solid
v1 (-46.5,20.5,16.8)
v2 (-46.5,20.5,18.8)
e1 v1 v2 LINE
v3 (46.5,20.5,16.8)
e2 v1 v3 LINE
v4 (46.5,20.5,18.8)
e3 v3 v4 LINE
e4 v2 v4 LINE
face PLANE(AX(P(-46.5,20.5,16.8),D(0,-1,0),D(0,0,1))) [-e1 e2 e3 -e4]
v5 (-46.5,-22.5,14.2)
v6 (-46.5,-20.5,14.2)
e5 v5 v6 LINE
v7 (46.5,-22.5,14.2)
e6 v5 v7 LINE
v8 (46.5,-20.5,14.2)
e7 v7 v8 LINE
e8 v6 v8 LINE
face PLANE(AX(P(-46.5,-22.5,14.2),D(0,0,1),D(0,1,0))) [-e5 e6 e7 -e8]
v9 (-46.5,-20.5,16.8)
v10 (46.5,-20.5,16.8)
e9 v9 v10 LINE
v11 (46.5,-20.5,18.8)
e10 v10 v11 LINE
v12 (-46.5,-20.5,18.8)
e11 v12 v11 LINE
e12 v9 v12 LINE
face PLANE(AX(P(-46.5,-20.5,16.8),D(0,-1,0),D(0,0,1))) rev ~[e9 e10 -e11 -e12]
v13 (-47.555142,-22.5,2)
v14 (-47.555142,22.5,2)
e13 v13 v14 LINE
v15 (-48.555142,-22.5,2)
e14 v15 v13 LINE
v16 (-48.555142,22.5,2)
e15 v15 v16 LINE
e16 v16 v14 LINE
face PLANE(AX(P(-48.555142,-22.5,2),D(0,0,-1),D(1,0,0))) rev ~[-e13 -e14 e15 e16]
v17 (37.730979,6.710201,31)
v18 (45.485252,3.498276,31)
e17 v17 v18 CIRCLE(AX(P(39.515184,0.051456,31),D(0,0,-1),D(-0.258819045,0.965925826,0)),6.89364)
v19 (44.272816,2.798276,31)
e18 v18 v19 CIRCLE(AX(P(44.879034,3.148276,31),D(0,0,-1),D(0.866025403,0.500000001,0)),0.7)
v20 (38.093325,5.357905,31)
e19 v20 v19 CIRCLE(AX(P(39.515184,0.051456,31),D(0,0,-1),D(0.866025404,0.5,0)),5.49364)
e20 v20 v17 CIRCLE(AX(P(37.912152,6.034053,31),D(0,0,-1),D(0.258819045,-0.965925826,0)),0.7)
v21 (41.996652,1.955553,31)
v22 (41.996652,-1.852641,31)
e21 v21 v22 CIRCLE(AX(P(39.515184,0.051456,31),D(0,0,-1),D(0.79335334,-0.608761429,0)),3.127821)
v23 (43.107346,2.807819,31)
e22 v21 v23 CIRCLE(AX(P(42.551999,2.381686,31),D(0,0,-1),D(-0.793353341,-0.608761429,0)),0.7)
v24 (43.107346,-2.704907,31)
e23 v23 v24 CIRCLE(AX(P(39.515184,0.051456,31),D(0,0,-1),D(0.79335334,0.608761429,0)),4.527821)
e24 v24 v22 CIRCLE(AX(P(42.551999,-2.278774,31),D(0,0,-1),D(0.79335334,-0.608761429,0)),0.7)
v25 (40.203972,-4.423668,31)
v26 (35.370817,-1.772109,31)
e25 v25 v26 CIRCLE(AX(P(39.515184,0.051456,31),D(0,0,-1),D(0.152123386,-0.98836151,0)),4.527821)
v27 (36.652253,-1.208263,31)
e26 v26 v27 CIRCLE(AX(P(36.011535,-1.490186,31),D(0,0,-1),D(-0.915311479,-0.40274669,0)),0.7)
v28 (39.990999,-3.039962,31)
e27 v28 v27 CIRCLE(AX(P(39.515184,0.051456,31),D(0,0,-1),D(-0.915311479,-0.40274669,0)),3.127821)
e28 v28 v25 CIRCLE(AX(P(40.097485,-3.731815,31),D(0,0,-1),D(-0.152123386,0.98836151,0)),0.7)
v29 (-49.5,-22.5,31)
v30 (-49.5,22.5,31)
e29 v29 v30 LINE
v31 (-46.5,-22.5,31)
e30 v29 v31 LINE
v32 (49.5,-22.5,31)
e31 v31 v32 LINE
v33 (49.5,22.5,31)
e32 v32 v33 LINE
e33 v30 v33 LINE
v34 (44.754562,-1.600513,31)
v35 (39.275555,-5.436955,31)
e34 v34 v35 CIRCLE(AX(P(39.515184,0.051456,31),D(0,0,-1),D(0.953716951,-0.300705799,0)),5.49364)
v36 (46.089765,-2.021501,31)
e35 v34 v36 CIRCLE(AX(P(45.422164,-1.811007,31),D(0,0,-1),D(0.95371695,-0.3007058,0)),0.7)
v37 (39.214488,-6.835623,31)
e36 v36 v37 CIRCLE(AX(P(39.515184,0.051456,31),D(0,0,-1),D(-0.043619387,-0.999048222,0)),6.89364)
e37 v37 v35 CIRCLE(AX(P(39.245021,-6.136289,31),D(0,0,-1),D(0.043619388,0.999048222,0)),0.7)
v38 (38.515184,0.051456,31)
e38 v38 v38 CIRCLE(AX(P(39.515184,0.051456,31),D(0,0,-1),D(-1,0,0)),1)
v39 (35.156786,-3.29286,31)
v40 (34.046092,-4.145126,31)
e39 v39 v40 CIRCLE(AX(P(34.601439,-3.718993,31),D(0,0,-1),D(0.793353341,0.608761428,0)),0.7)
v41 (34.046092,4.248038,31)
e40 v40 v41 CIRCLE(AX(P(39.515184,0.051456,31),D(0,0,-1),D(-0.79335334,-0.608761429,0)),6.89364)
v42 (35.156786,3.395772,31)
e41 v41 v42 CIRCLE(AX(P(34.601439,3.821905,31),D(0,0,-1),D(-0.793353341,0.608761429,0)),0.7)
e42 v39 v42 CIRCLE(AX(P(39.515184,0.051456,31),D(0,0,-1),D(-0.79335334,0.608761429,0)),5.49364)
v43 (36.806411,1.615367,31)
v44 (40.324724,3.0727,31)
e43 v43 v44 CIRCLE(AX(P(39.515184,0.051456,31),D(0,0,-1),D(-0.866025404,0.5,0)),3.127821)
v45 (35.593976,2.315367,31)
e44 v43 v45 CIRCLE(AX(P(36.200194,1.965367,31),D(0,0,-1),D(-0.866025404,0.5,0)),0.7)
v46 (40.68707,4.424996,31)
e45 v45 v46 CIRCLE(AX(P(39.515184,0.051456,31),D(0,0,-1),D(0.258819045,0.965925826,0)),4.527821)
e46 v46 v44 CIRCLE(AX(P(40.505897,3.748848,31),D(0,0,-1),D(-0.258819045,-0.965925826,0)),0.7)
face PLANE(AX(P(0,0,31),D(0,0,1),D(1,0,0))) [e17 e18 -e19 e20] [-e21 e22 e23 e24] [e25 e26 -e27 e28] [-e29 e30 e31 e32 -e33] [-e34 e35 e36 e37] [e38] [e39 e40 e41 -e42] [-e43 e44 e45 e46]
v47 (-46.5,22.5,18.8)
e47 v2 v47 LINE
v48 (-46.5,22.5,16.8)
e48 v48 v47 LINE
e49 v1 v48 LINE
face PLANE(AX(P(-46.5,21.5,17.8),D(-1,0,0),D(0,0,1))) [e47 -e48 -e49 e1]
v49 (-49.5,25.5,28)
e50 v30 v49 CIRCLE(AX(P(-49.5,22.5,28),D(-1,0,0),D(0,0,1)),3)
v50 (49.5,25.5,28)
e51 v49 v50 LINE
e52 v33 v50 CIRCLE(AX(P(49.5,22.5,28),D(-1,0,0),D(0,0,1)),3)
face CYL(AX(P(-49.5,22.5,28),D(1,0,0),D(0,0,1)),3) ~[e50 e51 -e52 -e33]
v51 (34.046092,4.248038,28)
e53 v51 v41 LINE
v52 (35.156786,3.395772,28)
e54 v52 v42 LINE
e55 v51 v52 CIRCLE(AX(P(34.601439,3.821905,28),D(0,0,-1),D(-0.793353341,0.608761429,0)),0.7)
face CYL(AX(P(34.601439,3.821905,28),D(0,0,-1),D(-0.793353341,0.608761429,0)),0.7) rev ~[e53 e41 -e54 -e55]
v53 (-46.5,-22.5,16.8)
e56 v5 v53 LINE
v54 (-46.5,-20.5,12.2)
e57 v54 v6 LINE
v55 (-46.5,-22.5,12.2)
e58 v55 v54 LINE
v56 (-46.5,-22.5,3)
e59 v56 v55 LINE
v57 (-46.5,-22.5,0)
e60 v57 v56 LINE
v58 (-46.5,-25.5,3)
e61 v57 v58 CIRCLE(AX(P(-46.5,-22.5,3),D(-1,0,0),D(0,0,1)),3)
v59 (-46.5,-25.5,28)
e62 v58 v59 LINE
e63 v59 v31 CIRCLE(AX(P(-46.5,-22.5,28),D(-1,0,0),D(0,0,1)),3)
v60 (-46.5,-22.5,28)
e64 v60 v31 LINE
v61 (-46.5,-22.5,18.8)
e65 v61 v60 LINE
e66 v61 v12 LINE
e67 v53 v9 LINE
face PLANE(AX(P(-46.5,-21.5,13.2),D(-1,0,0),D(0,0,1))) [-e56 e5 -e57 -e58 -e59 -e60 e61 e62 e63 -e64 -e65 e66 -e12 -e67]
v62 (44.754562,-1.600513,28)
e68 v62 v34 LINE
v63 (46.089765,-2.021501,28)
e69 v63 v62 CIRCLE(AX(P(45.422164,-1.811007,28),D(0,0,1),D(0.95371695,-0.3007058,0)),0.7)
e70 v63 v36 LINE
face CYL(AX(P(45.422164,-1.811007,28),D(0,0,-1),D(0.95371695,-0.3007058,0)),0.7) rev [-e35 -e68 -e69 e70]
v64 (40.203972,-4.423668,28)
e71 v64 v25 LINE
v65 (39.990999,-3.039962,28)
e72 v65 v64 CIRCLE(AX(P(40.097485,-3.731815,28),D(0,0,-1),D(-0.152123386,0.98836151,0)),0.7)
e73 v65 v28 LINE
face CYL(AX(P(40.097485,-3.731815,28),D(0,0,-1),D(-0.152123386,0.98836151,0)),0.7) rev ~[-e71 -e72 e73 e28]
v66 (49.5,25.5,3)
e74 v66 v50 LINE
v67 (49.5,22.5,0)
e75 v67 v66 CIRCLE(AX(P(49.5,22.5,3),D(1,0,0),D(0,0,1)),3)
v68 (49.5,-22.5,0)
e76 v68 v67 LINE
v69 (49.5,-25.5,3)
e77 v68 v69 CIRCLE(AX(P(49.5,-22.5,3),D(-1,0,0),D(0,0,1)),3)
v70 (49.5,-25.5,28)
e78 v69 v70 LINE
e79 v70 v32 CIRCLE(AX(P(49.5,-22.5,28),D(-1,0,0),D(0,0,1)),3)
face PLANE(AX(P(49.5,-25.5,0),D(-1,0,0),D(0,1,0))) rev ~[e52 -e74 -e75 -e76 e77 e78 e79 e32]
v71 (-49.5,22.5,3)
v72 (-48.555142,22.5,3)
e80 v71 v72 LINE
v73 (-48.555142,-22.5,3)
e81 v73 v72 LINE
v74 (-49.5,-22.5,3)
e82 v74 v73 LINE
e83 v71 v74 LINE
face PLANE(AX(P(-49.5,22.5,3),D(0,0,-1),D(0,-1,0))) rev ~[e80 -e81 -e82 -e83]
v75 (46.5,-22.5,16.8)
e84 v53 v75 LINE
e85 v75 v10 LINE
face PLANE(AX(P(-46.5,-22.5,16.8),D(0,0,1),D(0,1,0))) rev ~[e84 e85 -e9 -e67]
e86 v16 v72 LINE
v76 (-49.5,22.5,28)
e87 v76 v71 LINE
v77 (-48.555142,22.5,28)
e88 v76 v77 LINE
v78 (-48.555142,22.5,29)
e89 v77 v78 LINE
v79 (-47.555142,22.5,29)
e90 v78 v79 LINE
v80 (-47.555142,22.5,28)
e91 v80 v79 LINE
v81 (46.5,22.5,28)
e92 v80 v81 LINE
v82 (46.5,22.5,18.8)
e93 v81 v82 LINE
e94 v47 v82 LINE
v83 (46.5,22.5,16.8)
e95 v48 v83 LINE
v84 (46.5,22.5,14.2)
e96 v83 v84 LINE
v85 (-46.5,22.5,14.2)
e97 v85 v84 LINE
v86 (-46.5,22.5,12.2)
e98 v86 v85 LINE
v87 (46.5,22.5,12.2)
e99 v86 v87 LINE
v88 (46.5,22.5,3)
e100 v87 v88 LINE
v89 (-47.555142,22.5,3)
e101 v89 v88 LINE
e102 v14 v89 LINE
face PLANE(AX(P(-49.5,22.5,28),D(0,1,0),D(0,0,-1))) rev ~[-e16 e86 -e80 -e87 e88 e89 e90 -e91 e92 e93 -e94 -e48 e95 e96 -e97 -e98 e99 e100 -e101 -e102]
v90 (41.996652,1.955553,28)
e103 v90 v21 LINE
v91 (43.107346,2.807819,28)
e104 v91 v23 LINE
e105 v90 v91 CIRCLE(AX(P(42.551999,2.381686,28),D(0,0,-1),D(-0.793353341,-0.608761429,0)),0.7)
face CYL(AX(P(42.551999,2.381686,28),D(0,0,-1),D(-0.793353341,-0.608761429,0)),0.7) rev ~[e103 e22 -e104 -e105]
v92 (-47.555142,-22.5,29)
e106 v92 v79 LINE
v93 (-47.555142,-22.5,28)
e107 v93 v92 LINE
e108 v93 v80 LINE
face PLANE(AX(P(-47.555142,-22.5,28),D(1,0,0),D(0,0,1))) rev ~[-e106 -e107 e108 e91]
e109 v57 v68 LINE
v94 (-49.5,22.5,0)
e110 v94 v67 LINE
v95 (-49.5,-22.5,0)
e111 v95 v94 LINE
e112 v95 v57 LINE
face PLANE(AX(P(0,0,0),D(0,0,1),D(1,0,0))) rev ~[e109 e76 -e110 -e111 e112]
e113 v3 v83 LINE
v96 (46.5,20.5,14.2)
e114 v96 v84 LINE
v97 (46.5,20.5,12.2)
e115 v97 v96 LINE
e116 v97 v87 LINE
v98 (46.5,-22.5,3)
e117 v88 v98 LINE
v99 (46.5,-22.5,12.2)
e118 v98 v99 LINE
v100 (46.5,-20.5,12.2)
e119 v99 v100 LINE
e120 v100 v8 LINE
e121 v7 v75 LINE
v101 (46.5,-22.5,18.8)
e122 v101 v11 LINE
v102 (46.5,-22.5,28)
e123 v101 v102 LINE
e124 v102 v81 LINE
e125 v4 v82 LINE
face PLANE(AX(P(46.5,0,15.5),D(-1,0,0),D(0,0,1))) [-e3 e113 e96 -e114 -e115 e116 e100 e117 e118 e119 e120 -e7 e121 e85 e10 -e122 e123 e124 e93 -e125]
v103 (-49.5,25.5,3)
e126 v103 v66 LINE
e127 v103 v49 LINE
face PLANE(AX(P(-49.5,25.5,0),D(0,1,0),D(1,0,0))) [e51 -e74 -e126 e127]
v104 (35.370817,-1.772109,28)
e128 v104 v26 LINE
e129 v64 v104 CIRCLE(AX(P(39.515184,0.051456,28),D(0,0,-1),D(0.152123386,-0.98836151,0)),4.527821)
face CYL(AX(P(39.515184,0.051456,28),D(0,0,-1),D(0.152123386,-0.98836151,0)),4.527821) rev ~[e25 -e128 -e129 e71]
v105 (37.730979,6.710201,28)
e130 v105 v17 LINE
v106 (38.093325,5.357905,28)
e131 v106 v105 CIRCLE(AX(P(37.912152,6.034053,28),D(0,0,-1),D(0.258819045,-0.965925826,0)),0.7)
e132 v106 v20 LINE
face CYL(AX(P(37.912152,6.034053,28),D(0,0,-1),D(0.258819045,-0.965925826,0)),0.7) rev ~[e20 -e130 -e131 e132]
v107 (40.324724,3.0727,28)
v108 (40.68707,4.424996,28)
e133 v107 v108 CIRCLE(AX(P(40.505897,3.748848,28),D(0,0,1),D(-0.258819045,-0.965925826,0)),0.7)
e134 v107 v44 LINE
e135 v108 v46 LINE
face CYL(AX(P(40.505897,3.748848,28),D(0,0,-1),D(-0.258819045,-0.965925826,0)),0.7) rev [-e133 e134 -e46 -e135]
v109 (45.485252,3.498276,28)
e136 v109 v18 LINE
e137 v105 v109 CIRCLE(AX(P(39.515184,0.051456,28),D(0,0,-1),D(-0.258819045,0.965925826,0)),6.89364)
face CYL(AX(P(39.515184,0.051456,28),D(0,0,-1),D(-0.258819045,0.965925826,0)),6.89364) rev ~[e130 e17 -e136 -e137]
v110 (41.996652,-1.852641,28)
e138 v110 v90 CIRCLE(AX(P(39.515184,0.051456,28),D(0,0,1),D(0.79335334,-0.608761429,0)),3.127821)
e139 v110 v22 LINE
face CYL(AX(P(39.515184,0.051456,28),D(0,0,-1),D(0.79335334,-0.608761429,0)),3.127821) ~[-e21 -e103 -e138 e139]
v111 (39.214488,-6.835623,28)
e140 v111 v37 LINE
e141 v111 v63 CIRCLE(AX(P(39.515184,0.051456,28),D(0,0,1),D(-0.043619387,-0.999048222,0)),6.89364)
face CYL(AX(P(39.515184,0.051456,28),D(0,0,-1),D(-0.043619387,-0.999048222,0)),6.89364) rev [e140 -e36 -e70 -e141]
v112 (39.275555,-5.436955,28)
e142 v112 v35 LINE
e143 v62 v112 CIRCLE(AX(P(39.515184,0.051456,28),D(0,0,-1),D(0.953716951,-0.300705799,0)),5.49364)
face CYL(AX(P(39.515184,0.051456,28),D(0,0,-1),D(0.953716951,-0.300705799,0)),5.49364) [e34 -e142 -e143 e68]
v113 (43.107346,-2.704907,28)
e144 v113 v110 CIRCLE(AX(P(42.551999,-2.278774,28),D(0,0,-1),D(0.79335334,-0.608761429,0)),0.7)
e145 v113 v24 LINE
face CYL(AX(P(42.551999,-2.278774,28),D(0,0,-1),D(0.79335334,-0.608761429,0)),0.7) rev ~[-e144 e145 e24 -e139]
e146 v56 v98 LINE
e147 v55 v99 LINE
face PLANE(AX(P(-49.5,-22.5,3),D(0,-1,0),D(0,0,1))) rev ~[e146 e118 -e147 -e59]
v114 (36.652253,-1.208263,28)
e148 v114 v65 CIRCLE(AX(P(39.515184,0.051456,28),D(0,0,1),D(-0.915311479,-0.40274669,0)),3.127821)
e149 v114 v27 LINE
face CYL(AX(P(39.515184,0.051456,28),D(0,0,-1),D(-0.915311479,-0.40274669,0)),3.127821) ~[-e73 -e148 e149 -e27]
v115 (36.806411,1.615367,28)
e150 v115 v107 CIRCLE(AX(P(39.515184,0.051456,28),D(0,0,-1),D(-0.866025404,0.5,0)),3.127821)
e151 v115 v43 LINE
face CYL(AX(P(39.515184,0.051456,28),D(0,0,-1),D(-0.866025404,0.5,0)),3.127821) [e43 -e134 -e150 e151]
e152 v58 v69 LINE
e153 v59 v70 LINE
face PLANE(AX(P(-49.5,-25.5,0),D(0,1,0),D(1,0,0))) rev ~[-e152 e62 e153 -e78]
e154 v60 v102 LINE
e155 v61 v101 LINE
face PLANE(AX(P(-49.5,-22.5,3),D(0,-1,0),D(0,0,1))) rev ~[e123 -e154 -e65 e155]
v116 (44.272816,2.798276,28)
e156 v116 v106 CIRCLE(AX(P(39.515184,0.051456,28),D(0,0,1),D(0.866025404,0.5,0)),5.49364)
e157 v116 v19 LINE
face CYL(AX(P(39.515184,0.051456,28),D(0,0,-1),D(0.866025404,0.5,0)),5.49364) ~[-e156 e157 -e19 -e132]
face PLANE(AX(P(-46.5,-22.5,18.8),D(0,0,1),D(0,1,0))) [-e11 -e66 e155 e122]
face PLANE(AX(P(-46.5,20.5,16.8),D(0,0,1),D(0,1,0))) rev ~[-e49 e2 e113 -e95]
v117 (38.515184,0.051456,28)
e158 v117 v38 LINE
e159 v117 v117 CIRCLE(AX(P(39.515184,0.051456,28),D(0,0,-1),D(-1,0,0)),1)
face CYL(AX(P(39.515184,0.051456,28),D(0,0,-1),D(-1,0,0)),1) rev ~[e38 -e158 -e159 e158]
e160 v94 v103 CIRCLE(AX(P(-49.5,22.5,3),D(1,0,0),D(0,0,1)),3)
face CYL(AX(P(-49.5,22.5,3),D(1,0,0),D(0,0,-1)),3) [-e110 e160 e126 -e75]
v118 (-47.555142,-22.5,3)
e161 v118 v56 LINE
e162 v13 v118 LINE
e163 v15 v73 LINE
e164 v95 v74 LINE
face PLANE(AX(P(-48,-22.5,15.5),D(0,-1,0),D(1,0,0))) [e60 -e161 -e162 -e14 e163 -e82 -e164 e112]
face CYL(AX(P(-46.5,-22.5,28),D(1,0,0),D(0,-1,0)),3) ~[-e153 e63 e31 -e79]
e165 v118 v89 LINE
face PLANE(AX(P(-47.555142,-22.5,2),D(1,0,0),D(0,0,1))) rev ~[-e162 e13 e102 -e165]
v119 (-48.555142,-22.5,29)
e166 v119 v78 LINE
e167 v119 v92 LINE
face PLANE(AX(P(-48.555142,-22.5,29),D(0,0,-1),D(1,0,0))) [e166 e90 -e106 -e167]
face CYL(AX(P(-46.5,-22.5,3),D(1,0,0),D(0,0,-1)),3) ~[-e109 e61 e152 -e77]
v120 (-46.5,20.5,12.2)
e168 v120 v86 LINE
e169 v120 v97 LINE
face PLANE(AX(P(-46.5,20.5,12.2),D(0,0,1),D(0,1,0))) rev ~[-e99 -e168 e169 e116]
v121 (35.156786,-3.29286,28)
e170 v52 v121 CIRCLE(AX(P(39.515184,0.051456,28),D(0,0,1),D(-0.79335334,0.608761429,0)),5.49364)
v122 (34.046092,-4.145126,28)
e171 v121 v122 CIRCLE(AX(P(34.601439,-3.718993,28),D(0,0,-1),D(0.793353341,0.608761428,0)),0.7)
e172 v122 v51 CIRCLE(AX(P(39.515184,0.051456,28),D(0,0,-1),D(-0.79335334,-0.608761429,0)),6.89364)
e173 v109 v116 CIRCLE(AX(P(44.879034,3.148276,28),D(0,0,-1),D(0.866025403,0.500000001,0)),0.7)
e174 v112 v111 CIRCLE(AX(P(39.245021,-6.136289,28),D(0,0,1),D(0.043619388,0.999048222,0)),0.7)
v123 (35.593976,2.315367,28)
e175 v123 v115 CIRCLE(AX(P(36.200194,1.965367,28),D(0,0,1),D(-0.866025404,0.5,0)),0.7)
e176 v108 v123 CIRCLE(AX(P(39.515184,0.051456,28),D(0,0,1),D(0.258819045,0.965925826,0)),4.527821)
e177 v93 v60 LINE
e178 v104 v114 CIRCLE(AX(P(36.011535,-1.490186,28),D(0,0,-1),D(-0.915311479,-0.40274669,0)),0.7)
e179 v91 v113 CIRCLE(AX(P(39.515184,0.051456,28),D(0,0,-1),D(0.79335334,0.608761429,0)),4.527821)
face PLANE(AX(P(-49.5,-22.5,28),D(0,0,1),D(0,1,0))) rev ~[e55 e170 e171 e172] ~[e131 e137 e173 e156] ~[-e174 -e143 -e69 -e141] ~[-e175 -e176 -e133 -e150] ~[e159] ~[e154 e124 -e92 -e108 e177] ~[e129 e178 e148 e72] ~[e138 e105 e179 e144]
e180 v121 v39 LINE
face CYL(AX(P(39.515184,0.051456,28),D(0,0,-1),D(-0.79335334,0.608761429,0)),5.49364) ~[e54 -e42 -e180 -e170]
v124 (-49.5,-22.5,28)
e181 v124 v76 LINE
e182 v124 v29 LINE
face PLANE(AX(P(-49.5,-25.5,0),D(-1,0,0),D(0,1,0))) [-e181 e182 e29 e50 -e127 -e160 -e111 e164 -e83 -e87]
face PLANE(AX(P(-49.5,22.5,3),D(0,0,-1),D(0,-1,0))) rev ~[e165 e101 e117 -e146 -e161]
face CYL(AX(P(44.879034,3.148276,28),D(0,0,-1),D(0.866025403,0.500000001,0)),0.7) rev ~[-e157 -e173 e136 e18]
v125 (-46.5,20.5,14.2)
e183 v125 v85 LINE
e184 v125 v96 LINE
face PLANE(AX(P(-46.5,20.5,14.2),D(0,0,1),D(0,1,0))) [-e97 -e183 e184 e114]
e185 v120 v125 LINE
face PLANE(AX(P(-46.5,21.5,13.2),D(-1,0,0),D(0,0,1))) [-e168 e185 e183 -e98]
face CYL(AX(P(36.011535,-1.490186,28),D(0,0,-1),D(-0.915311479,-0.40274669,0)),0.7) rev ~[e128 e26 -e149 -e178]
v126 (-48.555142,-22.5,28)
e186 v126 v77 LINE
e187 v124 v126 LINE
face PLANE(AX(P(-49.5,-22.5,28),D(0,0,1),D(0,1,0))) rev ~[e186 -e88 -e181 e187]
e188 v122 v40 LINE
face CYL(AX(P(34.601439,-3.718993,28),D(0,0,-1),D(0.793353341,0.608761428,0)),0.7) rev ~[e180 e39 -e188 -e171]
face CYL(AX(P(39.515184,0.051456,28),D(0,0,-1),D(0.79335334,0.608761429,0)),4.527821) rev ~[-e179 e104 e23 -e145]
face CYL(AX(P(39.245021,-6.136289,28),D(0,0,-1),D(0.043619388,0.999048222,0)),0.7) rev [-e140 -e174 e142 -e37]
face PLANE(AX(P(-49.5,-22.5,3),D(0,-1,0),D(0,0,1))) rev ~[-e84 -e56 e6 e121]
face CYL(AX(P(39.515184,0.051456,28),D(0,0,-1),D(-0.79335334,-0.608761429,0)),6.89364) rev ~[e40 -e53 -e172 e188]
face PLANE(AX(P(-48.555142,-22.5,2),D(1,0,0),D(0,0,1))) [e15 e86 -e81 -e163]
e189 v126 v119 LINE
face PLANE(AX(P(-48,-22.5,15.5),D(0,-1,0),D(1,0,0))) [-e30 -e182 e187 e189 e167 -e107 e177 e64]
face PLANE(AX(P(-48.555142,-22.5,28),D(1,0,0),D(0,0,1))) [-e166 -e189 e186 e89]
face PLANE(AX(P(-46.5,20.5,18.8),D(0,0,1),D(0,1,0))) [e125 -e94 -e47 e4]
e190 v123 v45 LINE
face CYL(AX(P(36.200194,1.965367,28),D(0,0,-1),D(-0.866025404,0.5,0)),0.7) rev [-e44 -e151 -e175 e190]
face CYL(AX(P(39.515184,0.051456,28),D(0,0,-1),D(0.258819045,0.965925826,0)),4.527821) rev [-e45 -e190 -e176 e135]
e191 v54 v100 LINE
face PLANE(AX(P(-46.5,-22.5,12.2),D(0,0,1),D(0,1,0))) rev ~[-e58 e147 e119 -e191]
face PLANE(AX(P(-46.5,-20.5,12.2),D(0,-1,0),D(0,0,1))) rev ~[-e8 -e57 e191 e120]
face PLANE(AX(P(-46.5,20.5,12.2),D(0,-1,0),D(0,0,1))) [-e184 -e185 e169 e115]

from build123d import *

# Parameters (mm, degrees)
SKETCH1_W           = 99
SKETCH1_H           = 51
BOSS_EXTRUDE2_DEPTH = 31
CUT_EXTRUDE1_DEPTH  = 96
SKETCH4_W           = 3
SKETCH4_H           = 31
CUT_EXTRUDE2_DEPTH  = 3
SKETCH6_W           = 2
SKETCH6_H           = 2
BOSS_EXTRUDE3_DEPTH = 96
SKETCH7_W           = 1
SKETCH7_H           = 1
CUT_EXTRUDE3_DEPTH  = 45
FILLET1_R           = 3
SKETCH9_R           = 1
SKETCH9_R_2         = 0.5
CUT_EXTRUDE4_DEPTH  = 10


with BuildPart() as part:
    # Sketch1 → Boss-Extrude2 (new body)
    with BuildSketch(Plane.XY):
        Rectangle(SKETCH1_W, SKETCH1_H)
    extrude(amount=BOSS_EXTRUDE2_DEPTH)

    # Sketch3 → Cut-Extrude1 (cut)
    with BuildSketch(Plane.ZY.offset(49.5)):
        Polygon((3, 0.616456183), (3, -22.5), (28, -22.5), (28, 22.5), (3, 22.5), align=None)
    extrude(amount=-CUT_EXTRUDE1_DEPTH, mode=Mode.SUBTRACT)

    # Sketch4 → Cut-Extrude2 (cut)
    with BuildSketch(Plane.XZ.offset(25.5)):
        with Locations((-48, 15.5)):
            Rectangle(SKETCH4_W, SKETCH4_H)
    extrude(amount=-CUT_EXTRUDE2_DEPTH, mode=Mode.SUBTRACT)

    # Sketch6 → Boss-Extrude3 (add)
    with BuildSketch(Plane.ZY.offset(46.5)):
        with Locations((13.2, -21.5)):
            Rectangle(SKETCH6_W, SKETCH6_H)
        with Locations((17.8, -21.5)):
            Rectangle(SKETCH6_W, SKETCH6_H)
        with Locations((13.2, 21.5)):
            Rectangle(SKETCH6_W, SKETCH6_H)
        with Locations((17.8, 21.5)):
            Rectangle(SKETCH6_W, SKETCH6_H)
    extrude(amount=-BOSS_EXTRUDE3_DEPTH)

    # Sketch7 → Cut-Extrude3 (cut)
    with BuildSketch(Plane.XZ.offset(22.5)):
        with Locations((-48.055142405, 28.5)):
            Rectangle(SKETCH7_W, SKETCH7_H)
        with Locations((-48.055142405, 2.5)):
            Rectangle(SKETCH7_W, SKETCH7_H)
    extrude(amount=-CUT_EXTRUDE3_DEPTH, mode=Mode.SUBTRACT)

    # Fillet1
    fillet1_edges = [part.edges().sort_by_distance(p)[0] for p in [
        (0, 25.5, 31),
        (1.5, -25.5, 31),
        (1.5, -25.5, 0),
        (0, 25.5, 0),
    ]]
    fillet(fillet1_edges, radius=FILLET1_R)

    # Sketch9 → Cut-Extrude4 (cut)
    # profile 1 of 8: a face of its own
    with BuildSketch(Plane(origin=(0, 0, 28), x_dir=(-1, 0, 0), z_dir=(0, 0, -1))):
        with BuildLine():
            ThreePointArc((-43.107346254, 2.807819217), (-44.043005412, 0.051456221), (-43.107346254, -2.704906774))
            ThreePointArc((-43.107346254, -2.704906774), (-42.125865916, -2.834121112), (-41.996651578, -1.852640773))
            ThreePointArc((-41.996651578, -1.852640773), (-42.643005412, 0.051456221), (-41.996651578, 1.955553216))
            ThreePointArc((-41.996651578, 1.955553216), (-42.125865916, 2.937033554), (-43.107346254, 2.807819217))
        make_face()
    # profile 2 of 8: a face of its own
    with BuildSketch(Plane(origin=(0, 0, 28), x_dir=(-1, 0, 0), z_dir=(0, 0, -1))):
        with BuildLine():
            ThreePointArc((-37.730978714, 6.710201232), (-42.153265918, 6.420349215), (-45.485251514, 3.498276272))
            ThreePointArc((-45.485251514, 3.498276272), (-45.229033732, 2.542058489), (-44.272815949, 2.798276272))
            ThreePointArc((-44.272815949, 2.798276272), (-41.617509112, 5.12691787), (-38.093325377, 5.357905075))
            ThreePointArc((-38.093325377, 5.357905075), (-37.236003967, 5.852879822), (-37.730978714, 6.710201232))
        make_face()
    # profile 3 of 8: a face of its own
    with BuildSketch(Plane(origin=(0, 0, 28), x_dir=(-1, 0, 0), z_dir=(0, 0, -1))):
        with BuildLine():
            ThreePointArc((-35.59397575, 2.315366896), (-35.850193532, 1.359149114), (-36.806411315, 1.615366896))
            ThreePointArc((-36.806411315, 1.615366896), (-38.318218652, 2.941186348), (-40.324723797, 3.072699643))
            ThreePointArc((-40.324723797, 3.072699643), (-41.182045207, 3.56767439), (-40.68707046, 4.4249958))
            ThreePointArc((-40.68707046, 4.4249958), (-37.782461847, 4.234617693), (-35.59397575, 2.315366896))
        make_face()
    # profile 4 of 8: a face of its own
    with BuildSketch(Plane(origin=(0, 0, 28), x_dir=(-1, 0, 0), z_dir=(0, 0, -1))):
        with BuildLine():
            ThreePointArc((-34.046091661, -4.145125978), (-32.621543961, 0.051456221), (-34.046091661, 4.24803842))
            ThreePointArc((-34.046091661, 4.24803842), (-35.027572, 4.377252758), (-35.156786338, 3.39577242))
            ThreePointArc((-35.156786338, 3.39577242), (-34.021543961, 0.051456221), (-35.156786338, -3.292859977))
            ThreePointArc((-35.156786338, -3.292859977), (-35.027572, -4.274340315), (-34.046091661, -4.145125978))
        make_face()
    # profile 5 of 8: a face of its own
    with BuildSketch(Plane(origin=(0, 0, 28), x_dir=(-1, 0, 0), z_dir=(0, 0, -1))):
        with BuildLine():
            ThreePointArc((-40.203971578, -4.423668127), (-37.337352845, -3.918205901), (-35.370817206, -1.772108839))
            ThreePointArc((-35.370817206, -1.772108839), (-35.729612558, -0.849468121), (-36.652253276, -1.208263474))
            ThreePointArc((-36.652253276, -1.208263474), (-38.010737122, -2.690788443), (-39.990998837, -3.039962012))
            ThreePointArc((-39.990998837, -3.039962012), (-40.789338265, -3.625328699), (-40.203971578, -4.423668127))
        make_face()
    # profile 6 of 8: a face of its own
    with BuildSketch(Plane(origin=(0, 0, 28), x_dir=(-1, 0, 0), z_dir=(0, 0, -1))):
        with BuildLine():
            ThreePointArc((-46.089765479, -2.021501337), (-45.632657673, -1.143405411), (-44.754561748, -1.600513217))
            ThreePointArc((-44.754561748, -1.600513217), (-42.666206574, -4.448670298), (-39.275554847, -5.436955151))
            ThreePointArc((-39.275554847, -5.436955151), (-38.54568752, -6.105755335), (-39.214487704, -6.835622662))
            ThreePointArc((-39.214487704, -6.835622662), (-43.469213585, -5.59548316), (-46.089765479, -2.021501337))
        make_face()
    # profile 7 of 8: a face of its own
    with BuildSketch(Plane(origin=(0, 0, 28), x_dir=(-1, 0, 0), z_dir=(0, 0, -1))):
        with Locations((-39.515184062, 0.051456221)):
            Circle(SKETCH9_R)
        with Locations((-39.515184062, 0.051456221)):
            Circle(SKETCH9_R_2, mode=Mode.SUBTRACT)
    # profile 8 of 8: a face of its own
    with BuildSketch(Plane(origin=(0, 0, 28), x_dir=(-1, 0, 0), z_dir=(0, 0, -1))):
        with Locations((-39.515184062, 0.051456221)):
            Circle(SKETCH9_R_2)
    extrude(amount=-CUT_EXTRUDE4_DEPTH, mode=Mode.SUBTRACT)


solid = part.part
